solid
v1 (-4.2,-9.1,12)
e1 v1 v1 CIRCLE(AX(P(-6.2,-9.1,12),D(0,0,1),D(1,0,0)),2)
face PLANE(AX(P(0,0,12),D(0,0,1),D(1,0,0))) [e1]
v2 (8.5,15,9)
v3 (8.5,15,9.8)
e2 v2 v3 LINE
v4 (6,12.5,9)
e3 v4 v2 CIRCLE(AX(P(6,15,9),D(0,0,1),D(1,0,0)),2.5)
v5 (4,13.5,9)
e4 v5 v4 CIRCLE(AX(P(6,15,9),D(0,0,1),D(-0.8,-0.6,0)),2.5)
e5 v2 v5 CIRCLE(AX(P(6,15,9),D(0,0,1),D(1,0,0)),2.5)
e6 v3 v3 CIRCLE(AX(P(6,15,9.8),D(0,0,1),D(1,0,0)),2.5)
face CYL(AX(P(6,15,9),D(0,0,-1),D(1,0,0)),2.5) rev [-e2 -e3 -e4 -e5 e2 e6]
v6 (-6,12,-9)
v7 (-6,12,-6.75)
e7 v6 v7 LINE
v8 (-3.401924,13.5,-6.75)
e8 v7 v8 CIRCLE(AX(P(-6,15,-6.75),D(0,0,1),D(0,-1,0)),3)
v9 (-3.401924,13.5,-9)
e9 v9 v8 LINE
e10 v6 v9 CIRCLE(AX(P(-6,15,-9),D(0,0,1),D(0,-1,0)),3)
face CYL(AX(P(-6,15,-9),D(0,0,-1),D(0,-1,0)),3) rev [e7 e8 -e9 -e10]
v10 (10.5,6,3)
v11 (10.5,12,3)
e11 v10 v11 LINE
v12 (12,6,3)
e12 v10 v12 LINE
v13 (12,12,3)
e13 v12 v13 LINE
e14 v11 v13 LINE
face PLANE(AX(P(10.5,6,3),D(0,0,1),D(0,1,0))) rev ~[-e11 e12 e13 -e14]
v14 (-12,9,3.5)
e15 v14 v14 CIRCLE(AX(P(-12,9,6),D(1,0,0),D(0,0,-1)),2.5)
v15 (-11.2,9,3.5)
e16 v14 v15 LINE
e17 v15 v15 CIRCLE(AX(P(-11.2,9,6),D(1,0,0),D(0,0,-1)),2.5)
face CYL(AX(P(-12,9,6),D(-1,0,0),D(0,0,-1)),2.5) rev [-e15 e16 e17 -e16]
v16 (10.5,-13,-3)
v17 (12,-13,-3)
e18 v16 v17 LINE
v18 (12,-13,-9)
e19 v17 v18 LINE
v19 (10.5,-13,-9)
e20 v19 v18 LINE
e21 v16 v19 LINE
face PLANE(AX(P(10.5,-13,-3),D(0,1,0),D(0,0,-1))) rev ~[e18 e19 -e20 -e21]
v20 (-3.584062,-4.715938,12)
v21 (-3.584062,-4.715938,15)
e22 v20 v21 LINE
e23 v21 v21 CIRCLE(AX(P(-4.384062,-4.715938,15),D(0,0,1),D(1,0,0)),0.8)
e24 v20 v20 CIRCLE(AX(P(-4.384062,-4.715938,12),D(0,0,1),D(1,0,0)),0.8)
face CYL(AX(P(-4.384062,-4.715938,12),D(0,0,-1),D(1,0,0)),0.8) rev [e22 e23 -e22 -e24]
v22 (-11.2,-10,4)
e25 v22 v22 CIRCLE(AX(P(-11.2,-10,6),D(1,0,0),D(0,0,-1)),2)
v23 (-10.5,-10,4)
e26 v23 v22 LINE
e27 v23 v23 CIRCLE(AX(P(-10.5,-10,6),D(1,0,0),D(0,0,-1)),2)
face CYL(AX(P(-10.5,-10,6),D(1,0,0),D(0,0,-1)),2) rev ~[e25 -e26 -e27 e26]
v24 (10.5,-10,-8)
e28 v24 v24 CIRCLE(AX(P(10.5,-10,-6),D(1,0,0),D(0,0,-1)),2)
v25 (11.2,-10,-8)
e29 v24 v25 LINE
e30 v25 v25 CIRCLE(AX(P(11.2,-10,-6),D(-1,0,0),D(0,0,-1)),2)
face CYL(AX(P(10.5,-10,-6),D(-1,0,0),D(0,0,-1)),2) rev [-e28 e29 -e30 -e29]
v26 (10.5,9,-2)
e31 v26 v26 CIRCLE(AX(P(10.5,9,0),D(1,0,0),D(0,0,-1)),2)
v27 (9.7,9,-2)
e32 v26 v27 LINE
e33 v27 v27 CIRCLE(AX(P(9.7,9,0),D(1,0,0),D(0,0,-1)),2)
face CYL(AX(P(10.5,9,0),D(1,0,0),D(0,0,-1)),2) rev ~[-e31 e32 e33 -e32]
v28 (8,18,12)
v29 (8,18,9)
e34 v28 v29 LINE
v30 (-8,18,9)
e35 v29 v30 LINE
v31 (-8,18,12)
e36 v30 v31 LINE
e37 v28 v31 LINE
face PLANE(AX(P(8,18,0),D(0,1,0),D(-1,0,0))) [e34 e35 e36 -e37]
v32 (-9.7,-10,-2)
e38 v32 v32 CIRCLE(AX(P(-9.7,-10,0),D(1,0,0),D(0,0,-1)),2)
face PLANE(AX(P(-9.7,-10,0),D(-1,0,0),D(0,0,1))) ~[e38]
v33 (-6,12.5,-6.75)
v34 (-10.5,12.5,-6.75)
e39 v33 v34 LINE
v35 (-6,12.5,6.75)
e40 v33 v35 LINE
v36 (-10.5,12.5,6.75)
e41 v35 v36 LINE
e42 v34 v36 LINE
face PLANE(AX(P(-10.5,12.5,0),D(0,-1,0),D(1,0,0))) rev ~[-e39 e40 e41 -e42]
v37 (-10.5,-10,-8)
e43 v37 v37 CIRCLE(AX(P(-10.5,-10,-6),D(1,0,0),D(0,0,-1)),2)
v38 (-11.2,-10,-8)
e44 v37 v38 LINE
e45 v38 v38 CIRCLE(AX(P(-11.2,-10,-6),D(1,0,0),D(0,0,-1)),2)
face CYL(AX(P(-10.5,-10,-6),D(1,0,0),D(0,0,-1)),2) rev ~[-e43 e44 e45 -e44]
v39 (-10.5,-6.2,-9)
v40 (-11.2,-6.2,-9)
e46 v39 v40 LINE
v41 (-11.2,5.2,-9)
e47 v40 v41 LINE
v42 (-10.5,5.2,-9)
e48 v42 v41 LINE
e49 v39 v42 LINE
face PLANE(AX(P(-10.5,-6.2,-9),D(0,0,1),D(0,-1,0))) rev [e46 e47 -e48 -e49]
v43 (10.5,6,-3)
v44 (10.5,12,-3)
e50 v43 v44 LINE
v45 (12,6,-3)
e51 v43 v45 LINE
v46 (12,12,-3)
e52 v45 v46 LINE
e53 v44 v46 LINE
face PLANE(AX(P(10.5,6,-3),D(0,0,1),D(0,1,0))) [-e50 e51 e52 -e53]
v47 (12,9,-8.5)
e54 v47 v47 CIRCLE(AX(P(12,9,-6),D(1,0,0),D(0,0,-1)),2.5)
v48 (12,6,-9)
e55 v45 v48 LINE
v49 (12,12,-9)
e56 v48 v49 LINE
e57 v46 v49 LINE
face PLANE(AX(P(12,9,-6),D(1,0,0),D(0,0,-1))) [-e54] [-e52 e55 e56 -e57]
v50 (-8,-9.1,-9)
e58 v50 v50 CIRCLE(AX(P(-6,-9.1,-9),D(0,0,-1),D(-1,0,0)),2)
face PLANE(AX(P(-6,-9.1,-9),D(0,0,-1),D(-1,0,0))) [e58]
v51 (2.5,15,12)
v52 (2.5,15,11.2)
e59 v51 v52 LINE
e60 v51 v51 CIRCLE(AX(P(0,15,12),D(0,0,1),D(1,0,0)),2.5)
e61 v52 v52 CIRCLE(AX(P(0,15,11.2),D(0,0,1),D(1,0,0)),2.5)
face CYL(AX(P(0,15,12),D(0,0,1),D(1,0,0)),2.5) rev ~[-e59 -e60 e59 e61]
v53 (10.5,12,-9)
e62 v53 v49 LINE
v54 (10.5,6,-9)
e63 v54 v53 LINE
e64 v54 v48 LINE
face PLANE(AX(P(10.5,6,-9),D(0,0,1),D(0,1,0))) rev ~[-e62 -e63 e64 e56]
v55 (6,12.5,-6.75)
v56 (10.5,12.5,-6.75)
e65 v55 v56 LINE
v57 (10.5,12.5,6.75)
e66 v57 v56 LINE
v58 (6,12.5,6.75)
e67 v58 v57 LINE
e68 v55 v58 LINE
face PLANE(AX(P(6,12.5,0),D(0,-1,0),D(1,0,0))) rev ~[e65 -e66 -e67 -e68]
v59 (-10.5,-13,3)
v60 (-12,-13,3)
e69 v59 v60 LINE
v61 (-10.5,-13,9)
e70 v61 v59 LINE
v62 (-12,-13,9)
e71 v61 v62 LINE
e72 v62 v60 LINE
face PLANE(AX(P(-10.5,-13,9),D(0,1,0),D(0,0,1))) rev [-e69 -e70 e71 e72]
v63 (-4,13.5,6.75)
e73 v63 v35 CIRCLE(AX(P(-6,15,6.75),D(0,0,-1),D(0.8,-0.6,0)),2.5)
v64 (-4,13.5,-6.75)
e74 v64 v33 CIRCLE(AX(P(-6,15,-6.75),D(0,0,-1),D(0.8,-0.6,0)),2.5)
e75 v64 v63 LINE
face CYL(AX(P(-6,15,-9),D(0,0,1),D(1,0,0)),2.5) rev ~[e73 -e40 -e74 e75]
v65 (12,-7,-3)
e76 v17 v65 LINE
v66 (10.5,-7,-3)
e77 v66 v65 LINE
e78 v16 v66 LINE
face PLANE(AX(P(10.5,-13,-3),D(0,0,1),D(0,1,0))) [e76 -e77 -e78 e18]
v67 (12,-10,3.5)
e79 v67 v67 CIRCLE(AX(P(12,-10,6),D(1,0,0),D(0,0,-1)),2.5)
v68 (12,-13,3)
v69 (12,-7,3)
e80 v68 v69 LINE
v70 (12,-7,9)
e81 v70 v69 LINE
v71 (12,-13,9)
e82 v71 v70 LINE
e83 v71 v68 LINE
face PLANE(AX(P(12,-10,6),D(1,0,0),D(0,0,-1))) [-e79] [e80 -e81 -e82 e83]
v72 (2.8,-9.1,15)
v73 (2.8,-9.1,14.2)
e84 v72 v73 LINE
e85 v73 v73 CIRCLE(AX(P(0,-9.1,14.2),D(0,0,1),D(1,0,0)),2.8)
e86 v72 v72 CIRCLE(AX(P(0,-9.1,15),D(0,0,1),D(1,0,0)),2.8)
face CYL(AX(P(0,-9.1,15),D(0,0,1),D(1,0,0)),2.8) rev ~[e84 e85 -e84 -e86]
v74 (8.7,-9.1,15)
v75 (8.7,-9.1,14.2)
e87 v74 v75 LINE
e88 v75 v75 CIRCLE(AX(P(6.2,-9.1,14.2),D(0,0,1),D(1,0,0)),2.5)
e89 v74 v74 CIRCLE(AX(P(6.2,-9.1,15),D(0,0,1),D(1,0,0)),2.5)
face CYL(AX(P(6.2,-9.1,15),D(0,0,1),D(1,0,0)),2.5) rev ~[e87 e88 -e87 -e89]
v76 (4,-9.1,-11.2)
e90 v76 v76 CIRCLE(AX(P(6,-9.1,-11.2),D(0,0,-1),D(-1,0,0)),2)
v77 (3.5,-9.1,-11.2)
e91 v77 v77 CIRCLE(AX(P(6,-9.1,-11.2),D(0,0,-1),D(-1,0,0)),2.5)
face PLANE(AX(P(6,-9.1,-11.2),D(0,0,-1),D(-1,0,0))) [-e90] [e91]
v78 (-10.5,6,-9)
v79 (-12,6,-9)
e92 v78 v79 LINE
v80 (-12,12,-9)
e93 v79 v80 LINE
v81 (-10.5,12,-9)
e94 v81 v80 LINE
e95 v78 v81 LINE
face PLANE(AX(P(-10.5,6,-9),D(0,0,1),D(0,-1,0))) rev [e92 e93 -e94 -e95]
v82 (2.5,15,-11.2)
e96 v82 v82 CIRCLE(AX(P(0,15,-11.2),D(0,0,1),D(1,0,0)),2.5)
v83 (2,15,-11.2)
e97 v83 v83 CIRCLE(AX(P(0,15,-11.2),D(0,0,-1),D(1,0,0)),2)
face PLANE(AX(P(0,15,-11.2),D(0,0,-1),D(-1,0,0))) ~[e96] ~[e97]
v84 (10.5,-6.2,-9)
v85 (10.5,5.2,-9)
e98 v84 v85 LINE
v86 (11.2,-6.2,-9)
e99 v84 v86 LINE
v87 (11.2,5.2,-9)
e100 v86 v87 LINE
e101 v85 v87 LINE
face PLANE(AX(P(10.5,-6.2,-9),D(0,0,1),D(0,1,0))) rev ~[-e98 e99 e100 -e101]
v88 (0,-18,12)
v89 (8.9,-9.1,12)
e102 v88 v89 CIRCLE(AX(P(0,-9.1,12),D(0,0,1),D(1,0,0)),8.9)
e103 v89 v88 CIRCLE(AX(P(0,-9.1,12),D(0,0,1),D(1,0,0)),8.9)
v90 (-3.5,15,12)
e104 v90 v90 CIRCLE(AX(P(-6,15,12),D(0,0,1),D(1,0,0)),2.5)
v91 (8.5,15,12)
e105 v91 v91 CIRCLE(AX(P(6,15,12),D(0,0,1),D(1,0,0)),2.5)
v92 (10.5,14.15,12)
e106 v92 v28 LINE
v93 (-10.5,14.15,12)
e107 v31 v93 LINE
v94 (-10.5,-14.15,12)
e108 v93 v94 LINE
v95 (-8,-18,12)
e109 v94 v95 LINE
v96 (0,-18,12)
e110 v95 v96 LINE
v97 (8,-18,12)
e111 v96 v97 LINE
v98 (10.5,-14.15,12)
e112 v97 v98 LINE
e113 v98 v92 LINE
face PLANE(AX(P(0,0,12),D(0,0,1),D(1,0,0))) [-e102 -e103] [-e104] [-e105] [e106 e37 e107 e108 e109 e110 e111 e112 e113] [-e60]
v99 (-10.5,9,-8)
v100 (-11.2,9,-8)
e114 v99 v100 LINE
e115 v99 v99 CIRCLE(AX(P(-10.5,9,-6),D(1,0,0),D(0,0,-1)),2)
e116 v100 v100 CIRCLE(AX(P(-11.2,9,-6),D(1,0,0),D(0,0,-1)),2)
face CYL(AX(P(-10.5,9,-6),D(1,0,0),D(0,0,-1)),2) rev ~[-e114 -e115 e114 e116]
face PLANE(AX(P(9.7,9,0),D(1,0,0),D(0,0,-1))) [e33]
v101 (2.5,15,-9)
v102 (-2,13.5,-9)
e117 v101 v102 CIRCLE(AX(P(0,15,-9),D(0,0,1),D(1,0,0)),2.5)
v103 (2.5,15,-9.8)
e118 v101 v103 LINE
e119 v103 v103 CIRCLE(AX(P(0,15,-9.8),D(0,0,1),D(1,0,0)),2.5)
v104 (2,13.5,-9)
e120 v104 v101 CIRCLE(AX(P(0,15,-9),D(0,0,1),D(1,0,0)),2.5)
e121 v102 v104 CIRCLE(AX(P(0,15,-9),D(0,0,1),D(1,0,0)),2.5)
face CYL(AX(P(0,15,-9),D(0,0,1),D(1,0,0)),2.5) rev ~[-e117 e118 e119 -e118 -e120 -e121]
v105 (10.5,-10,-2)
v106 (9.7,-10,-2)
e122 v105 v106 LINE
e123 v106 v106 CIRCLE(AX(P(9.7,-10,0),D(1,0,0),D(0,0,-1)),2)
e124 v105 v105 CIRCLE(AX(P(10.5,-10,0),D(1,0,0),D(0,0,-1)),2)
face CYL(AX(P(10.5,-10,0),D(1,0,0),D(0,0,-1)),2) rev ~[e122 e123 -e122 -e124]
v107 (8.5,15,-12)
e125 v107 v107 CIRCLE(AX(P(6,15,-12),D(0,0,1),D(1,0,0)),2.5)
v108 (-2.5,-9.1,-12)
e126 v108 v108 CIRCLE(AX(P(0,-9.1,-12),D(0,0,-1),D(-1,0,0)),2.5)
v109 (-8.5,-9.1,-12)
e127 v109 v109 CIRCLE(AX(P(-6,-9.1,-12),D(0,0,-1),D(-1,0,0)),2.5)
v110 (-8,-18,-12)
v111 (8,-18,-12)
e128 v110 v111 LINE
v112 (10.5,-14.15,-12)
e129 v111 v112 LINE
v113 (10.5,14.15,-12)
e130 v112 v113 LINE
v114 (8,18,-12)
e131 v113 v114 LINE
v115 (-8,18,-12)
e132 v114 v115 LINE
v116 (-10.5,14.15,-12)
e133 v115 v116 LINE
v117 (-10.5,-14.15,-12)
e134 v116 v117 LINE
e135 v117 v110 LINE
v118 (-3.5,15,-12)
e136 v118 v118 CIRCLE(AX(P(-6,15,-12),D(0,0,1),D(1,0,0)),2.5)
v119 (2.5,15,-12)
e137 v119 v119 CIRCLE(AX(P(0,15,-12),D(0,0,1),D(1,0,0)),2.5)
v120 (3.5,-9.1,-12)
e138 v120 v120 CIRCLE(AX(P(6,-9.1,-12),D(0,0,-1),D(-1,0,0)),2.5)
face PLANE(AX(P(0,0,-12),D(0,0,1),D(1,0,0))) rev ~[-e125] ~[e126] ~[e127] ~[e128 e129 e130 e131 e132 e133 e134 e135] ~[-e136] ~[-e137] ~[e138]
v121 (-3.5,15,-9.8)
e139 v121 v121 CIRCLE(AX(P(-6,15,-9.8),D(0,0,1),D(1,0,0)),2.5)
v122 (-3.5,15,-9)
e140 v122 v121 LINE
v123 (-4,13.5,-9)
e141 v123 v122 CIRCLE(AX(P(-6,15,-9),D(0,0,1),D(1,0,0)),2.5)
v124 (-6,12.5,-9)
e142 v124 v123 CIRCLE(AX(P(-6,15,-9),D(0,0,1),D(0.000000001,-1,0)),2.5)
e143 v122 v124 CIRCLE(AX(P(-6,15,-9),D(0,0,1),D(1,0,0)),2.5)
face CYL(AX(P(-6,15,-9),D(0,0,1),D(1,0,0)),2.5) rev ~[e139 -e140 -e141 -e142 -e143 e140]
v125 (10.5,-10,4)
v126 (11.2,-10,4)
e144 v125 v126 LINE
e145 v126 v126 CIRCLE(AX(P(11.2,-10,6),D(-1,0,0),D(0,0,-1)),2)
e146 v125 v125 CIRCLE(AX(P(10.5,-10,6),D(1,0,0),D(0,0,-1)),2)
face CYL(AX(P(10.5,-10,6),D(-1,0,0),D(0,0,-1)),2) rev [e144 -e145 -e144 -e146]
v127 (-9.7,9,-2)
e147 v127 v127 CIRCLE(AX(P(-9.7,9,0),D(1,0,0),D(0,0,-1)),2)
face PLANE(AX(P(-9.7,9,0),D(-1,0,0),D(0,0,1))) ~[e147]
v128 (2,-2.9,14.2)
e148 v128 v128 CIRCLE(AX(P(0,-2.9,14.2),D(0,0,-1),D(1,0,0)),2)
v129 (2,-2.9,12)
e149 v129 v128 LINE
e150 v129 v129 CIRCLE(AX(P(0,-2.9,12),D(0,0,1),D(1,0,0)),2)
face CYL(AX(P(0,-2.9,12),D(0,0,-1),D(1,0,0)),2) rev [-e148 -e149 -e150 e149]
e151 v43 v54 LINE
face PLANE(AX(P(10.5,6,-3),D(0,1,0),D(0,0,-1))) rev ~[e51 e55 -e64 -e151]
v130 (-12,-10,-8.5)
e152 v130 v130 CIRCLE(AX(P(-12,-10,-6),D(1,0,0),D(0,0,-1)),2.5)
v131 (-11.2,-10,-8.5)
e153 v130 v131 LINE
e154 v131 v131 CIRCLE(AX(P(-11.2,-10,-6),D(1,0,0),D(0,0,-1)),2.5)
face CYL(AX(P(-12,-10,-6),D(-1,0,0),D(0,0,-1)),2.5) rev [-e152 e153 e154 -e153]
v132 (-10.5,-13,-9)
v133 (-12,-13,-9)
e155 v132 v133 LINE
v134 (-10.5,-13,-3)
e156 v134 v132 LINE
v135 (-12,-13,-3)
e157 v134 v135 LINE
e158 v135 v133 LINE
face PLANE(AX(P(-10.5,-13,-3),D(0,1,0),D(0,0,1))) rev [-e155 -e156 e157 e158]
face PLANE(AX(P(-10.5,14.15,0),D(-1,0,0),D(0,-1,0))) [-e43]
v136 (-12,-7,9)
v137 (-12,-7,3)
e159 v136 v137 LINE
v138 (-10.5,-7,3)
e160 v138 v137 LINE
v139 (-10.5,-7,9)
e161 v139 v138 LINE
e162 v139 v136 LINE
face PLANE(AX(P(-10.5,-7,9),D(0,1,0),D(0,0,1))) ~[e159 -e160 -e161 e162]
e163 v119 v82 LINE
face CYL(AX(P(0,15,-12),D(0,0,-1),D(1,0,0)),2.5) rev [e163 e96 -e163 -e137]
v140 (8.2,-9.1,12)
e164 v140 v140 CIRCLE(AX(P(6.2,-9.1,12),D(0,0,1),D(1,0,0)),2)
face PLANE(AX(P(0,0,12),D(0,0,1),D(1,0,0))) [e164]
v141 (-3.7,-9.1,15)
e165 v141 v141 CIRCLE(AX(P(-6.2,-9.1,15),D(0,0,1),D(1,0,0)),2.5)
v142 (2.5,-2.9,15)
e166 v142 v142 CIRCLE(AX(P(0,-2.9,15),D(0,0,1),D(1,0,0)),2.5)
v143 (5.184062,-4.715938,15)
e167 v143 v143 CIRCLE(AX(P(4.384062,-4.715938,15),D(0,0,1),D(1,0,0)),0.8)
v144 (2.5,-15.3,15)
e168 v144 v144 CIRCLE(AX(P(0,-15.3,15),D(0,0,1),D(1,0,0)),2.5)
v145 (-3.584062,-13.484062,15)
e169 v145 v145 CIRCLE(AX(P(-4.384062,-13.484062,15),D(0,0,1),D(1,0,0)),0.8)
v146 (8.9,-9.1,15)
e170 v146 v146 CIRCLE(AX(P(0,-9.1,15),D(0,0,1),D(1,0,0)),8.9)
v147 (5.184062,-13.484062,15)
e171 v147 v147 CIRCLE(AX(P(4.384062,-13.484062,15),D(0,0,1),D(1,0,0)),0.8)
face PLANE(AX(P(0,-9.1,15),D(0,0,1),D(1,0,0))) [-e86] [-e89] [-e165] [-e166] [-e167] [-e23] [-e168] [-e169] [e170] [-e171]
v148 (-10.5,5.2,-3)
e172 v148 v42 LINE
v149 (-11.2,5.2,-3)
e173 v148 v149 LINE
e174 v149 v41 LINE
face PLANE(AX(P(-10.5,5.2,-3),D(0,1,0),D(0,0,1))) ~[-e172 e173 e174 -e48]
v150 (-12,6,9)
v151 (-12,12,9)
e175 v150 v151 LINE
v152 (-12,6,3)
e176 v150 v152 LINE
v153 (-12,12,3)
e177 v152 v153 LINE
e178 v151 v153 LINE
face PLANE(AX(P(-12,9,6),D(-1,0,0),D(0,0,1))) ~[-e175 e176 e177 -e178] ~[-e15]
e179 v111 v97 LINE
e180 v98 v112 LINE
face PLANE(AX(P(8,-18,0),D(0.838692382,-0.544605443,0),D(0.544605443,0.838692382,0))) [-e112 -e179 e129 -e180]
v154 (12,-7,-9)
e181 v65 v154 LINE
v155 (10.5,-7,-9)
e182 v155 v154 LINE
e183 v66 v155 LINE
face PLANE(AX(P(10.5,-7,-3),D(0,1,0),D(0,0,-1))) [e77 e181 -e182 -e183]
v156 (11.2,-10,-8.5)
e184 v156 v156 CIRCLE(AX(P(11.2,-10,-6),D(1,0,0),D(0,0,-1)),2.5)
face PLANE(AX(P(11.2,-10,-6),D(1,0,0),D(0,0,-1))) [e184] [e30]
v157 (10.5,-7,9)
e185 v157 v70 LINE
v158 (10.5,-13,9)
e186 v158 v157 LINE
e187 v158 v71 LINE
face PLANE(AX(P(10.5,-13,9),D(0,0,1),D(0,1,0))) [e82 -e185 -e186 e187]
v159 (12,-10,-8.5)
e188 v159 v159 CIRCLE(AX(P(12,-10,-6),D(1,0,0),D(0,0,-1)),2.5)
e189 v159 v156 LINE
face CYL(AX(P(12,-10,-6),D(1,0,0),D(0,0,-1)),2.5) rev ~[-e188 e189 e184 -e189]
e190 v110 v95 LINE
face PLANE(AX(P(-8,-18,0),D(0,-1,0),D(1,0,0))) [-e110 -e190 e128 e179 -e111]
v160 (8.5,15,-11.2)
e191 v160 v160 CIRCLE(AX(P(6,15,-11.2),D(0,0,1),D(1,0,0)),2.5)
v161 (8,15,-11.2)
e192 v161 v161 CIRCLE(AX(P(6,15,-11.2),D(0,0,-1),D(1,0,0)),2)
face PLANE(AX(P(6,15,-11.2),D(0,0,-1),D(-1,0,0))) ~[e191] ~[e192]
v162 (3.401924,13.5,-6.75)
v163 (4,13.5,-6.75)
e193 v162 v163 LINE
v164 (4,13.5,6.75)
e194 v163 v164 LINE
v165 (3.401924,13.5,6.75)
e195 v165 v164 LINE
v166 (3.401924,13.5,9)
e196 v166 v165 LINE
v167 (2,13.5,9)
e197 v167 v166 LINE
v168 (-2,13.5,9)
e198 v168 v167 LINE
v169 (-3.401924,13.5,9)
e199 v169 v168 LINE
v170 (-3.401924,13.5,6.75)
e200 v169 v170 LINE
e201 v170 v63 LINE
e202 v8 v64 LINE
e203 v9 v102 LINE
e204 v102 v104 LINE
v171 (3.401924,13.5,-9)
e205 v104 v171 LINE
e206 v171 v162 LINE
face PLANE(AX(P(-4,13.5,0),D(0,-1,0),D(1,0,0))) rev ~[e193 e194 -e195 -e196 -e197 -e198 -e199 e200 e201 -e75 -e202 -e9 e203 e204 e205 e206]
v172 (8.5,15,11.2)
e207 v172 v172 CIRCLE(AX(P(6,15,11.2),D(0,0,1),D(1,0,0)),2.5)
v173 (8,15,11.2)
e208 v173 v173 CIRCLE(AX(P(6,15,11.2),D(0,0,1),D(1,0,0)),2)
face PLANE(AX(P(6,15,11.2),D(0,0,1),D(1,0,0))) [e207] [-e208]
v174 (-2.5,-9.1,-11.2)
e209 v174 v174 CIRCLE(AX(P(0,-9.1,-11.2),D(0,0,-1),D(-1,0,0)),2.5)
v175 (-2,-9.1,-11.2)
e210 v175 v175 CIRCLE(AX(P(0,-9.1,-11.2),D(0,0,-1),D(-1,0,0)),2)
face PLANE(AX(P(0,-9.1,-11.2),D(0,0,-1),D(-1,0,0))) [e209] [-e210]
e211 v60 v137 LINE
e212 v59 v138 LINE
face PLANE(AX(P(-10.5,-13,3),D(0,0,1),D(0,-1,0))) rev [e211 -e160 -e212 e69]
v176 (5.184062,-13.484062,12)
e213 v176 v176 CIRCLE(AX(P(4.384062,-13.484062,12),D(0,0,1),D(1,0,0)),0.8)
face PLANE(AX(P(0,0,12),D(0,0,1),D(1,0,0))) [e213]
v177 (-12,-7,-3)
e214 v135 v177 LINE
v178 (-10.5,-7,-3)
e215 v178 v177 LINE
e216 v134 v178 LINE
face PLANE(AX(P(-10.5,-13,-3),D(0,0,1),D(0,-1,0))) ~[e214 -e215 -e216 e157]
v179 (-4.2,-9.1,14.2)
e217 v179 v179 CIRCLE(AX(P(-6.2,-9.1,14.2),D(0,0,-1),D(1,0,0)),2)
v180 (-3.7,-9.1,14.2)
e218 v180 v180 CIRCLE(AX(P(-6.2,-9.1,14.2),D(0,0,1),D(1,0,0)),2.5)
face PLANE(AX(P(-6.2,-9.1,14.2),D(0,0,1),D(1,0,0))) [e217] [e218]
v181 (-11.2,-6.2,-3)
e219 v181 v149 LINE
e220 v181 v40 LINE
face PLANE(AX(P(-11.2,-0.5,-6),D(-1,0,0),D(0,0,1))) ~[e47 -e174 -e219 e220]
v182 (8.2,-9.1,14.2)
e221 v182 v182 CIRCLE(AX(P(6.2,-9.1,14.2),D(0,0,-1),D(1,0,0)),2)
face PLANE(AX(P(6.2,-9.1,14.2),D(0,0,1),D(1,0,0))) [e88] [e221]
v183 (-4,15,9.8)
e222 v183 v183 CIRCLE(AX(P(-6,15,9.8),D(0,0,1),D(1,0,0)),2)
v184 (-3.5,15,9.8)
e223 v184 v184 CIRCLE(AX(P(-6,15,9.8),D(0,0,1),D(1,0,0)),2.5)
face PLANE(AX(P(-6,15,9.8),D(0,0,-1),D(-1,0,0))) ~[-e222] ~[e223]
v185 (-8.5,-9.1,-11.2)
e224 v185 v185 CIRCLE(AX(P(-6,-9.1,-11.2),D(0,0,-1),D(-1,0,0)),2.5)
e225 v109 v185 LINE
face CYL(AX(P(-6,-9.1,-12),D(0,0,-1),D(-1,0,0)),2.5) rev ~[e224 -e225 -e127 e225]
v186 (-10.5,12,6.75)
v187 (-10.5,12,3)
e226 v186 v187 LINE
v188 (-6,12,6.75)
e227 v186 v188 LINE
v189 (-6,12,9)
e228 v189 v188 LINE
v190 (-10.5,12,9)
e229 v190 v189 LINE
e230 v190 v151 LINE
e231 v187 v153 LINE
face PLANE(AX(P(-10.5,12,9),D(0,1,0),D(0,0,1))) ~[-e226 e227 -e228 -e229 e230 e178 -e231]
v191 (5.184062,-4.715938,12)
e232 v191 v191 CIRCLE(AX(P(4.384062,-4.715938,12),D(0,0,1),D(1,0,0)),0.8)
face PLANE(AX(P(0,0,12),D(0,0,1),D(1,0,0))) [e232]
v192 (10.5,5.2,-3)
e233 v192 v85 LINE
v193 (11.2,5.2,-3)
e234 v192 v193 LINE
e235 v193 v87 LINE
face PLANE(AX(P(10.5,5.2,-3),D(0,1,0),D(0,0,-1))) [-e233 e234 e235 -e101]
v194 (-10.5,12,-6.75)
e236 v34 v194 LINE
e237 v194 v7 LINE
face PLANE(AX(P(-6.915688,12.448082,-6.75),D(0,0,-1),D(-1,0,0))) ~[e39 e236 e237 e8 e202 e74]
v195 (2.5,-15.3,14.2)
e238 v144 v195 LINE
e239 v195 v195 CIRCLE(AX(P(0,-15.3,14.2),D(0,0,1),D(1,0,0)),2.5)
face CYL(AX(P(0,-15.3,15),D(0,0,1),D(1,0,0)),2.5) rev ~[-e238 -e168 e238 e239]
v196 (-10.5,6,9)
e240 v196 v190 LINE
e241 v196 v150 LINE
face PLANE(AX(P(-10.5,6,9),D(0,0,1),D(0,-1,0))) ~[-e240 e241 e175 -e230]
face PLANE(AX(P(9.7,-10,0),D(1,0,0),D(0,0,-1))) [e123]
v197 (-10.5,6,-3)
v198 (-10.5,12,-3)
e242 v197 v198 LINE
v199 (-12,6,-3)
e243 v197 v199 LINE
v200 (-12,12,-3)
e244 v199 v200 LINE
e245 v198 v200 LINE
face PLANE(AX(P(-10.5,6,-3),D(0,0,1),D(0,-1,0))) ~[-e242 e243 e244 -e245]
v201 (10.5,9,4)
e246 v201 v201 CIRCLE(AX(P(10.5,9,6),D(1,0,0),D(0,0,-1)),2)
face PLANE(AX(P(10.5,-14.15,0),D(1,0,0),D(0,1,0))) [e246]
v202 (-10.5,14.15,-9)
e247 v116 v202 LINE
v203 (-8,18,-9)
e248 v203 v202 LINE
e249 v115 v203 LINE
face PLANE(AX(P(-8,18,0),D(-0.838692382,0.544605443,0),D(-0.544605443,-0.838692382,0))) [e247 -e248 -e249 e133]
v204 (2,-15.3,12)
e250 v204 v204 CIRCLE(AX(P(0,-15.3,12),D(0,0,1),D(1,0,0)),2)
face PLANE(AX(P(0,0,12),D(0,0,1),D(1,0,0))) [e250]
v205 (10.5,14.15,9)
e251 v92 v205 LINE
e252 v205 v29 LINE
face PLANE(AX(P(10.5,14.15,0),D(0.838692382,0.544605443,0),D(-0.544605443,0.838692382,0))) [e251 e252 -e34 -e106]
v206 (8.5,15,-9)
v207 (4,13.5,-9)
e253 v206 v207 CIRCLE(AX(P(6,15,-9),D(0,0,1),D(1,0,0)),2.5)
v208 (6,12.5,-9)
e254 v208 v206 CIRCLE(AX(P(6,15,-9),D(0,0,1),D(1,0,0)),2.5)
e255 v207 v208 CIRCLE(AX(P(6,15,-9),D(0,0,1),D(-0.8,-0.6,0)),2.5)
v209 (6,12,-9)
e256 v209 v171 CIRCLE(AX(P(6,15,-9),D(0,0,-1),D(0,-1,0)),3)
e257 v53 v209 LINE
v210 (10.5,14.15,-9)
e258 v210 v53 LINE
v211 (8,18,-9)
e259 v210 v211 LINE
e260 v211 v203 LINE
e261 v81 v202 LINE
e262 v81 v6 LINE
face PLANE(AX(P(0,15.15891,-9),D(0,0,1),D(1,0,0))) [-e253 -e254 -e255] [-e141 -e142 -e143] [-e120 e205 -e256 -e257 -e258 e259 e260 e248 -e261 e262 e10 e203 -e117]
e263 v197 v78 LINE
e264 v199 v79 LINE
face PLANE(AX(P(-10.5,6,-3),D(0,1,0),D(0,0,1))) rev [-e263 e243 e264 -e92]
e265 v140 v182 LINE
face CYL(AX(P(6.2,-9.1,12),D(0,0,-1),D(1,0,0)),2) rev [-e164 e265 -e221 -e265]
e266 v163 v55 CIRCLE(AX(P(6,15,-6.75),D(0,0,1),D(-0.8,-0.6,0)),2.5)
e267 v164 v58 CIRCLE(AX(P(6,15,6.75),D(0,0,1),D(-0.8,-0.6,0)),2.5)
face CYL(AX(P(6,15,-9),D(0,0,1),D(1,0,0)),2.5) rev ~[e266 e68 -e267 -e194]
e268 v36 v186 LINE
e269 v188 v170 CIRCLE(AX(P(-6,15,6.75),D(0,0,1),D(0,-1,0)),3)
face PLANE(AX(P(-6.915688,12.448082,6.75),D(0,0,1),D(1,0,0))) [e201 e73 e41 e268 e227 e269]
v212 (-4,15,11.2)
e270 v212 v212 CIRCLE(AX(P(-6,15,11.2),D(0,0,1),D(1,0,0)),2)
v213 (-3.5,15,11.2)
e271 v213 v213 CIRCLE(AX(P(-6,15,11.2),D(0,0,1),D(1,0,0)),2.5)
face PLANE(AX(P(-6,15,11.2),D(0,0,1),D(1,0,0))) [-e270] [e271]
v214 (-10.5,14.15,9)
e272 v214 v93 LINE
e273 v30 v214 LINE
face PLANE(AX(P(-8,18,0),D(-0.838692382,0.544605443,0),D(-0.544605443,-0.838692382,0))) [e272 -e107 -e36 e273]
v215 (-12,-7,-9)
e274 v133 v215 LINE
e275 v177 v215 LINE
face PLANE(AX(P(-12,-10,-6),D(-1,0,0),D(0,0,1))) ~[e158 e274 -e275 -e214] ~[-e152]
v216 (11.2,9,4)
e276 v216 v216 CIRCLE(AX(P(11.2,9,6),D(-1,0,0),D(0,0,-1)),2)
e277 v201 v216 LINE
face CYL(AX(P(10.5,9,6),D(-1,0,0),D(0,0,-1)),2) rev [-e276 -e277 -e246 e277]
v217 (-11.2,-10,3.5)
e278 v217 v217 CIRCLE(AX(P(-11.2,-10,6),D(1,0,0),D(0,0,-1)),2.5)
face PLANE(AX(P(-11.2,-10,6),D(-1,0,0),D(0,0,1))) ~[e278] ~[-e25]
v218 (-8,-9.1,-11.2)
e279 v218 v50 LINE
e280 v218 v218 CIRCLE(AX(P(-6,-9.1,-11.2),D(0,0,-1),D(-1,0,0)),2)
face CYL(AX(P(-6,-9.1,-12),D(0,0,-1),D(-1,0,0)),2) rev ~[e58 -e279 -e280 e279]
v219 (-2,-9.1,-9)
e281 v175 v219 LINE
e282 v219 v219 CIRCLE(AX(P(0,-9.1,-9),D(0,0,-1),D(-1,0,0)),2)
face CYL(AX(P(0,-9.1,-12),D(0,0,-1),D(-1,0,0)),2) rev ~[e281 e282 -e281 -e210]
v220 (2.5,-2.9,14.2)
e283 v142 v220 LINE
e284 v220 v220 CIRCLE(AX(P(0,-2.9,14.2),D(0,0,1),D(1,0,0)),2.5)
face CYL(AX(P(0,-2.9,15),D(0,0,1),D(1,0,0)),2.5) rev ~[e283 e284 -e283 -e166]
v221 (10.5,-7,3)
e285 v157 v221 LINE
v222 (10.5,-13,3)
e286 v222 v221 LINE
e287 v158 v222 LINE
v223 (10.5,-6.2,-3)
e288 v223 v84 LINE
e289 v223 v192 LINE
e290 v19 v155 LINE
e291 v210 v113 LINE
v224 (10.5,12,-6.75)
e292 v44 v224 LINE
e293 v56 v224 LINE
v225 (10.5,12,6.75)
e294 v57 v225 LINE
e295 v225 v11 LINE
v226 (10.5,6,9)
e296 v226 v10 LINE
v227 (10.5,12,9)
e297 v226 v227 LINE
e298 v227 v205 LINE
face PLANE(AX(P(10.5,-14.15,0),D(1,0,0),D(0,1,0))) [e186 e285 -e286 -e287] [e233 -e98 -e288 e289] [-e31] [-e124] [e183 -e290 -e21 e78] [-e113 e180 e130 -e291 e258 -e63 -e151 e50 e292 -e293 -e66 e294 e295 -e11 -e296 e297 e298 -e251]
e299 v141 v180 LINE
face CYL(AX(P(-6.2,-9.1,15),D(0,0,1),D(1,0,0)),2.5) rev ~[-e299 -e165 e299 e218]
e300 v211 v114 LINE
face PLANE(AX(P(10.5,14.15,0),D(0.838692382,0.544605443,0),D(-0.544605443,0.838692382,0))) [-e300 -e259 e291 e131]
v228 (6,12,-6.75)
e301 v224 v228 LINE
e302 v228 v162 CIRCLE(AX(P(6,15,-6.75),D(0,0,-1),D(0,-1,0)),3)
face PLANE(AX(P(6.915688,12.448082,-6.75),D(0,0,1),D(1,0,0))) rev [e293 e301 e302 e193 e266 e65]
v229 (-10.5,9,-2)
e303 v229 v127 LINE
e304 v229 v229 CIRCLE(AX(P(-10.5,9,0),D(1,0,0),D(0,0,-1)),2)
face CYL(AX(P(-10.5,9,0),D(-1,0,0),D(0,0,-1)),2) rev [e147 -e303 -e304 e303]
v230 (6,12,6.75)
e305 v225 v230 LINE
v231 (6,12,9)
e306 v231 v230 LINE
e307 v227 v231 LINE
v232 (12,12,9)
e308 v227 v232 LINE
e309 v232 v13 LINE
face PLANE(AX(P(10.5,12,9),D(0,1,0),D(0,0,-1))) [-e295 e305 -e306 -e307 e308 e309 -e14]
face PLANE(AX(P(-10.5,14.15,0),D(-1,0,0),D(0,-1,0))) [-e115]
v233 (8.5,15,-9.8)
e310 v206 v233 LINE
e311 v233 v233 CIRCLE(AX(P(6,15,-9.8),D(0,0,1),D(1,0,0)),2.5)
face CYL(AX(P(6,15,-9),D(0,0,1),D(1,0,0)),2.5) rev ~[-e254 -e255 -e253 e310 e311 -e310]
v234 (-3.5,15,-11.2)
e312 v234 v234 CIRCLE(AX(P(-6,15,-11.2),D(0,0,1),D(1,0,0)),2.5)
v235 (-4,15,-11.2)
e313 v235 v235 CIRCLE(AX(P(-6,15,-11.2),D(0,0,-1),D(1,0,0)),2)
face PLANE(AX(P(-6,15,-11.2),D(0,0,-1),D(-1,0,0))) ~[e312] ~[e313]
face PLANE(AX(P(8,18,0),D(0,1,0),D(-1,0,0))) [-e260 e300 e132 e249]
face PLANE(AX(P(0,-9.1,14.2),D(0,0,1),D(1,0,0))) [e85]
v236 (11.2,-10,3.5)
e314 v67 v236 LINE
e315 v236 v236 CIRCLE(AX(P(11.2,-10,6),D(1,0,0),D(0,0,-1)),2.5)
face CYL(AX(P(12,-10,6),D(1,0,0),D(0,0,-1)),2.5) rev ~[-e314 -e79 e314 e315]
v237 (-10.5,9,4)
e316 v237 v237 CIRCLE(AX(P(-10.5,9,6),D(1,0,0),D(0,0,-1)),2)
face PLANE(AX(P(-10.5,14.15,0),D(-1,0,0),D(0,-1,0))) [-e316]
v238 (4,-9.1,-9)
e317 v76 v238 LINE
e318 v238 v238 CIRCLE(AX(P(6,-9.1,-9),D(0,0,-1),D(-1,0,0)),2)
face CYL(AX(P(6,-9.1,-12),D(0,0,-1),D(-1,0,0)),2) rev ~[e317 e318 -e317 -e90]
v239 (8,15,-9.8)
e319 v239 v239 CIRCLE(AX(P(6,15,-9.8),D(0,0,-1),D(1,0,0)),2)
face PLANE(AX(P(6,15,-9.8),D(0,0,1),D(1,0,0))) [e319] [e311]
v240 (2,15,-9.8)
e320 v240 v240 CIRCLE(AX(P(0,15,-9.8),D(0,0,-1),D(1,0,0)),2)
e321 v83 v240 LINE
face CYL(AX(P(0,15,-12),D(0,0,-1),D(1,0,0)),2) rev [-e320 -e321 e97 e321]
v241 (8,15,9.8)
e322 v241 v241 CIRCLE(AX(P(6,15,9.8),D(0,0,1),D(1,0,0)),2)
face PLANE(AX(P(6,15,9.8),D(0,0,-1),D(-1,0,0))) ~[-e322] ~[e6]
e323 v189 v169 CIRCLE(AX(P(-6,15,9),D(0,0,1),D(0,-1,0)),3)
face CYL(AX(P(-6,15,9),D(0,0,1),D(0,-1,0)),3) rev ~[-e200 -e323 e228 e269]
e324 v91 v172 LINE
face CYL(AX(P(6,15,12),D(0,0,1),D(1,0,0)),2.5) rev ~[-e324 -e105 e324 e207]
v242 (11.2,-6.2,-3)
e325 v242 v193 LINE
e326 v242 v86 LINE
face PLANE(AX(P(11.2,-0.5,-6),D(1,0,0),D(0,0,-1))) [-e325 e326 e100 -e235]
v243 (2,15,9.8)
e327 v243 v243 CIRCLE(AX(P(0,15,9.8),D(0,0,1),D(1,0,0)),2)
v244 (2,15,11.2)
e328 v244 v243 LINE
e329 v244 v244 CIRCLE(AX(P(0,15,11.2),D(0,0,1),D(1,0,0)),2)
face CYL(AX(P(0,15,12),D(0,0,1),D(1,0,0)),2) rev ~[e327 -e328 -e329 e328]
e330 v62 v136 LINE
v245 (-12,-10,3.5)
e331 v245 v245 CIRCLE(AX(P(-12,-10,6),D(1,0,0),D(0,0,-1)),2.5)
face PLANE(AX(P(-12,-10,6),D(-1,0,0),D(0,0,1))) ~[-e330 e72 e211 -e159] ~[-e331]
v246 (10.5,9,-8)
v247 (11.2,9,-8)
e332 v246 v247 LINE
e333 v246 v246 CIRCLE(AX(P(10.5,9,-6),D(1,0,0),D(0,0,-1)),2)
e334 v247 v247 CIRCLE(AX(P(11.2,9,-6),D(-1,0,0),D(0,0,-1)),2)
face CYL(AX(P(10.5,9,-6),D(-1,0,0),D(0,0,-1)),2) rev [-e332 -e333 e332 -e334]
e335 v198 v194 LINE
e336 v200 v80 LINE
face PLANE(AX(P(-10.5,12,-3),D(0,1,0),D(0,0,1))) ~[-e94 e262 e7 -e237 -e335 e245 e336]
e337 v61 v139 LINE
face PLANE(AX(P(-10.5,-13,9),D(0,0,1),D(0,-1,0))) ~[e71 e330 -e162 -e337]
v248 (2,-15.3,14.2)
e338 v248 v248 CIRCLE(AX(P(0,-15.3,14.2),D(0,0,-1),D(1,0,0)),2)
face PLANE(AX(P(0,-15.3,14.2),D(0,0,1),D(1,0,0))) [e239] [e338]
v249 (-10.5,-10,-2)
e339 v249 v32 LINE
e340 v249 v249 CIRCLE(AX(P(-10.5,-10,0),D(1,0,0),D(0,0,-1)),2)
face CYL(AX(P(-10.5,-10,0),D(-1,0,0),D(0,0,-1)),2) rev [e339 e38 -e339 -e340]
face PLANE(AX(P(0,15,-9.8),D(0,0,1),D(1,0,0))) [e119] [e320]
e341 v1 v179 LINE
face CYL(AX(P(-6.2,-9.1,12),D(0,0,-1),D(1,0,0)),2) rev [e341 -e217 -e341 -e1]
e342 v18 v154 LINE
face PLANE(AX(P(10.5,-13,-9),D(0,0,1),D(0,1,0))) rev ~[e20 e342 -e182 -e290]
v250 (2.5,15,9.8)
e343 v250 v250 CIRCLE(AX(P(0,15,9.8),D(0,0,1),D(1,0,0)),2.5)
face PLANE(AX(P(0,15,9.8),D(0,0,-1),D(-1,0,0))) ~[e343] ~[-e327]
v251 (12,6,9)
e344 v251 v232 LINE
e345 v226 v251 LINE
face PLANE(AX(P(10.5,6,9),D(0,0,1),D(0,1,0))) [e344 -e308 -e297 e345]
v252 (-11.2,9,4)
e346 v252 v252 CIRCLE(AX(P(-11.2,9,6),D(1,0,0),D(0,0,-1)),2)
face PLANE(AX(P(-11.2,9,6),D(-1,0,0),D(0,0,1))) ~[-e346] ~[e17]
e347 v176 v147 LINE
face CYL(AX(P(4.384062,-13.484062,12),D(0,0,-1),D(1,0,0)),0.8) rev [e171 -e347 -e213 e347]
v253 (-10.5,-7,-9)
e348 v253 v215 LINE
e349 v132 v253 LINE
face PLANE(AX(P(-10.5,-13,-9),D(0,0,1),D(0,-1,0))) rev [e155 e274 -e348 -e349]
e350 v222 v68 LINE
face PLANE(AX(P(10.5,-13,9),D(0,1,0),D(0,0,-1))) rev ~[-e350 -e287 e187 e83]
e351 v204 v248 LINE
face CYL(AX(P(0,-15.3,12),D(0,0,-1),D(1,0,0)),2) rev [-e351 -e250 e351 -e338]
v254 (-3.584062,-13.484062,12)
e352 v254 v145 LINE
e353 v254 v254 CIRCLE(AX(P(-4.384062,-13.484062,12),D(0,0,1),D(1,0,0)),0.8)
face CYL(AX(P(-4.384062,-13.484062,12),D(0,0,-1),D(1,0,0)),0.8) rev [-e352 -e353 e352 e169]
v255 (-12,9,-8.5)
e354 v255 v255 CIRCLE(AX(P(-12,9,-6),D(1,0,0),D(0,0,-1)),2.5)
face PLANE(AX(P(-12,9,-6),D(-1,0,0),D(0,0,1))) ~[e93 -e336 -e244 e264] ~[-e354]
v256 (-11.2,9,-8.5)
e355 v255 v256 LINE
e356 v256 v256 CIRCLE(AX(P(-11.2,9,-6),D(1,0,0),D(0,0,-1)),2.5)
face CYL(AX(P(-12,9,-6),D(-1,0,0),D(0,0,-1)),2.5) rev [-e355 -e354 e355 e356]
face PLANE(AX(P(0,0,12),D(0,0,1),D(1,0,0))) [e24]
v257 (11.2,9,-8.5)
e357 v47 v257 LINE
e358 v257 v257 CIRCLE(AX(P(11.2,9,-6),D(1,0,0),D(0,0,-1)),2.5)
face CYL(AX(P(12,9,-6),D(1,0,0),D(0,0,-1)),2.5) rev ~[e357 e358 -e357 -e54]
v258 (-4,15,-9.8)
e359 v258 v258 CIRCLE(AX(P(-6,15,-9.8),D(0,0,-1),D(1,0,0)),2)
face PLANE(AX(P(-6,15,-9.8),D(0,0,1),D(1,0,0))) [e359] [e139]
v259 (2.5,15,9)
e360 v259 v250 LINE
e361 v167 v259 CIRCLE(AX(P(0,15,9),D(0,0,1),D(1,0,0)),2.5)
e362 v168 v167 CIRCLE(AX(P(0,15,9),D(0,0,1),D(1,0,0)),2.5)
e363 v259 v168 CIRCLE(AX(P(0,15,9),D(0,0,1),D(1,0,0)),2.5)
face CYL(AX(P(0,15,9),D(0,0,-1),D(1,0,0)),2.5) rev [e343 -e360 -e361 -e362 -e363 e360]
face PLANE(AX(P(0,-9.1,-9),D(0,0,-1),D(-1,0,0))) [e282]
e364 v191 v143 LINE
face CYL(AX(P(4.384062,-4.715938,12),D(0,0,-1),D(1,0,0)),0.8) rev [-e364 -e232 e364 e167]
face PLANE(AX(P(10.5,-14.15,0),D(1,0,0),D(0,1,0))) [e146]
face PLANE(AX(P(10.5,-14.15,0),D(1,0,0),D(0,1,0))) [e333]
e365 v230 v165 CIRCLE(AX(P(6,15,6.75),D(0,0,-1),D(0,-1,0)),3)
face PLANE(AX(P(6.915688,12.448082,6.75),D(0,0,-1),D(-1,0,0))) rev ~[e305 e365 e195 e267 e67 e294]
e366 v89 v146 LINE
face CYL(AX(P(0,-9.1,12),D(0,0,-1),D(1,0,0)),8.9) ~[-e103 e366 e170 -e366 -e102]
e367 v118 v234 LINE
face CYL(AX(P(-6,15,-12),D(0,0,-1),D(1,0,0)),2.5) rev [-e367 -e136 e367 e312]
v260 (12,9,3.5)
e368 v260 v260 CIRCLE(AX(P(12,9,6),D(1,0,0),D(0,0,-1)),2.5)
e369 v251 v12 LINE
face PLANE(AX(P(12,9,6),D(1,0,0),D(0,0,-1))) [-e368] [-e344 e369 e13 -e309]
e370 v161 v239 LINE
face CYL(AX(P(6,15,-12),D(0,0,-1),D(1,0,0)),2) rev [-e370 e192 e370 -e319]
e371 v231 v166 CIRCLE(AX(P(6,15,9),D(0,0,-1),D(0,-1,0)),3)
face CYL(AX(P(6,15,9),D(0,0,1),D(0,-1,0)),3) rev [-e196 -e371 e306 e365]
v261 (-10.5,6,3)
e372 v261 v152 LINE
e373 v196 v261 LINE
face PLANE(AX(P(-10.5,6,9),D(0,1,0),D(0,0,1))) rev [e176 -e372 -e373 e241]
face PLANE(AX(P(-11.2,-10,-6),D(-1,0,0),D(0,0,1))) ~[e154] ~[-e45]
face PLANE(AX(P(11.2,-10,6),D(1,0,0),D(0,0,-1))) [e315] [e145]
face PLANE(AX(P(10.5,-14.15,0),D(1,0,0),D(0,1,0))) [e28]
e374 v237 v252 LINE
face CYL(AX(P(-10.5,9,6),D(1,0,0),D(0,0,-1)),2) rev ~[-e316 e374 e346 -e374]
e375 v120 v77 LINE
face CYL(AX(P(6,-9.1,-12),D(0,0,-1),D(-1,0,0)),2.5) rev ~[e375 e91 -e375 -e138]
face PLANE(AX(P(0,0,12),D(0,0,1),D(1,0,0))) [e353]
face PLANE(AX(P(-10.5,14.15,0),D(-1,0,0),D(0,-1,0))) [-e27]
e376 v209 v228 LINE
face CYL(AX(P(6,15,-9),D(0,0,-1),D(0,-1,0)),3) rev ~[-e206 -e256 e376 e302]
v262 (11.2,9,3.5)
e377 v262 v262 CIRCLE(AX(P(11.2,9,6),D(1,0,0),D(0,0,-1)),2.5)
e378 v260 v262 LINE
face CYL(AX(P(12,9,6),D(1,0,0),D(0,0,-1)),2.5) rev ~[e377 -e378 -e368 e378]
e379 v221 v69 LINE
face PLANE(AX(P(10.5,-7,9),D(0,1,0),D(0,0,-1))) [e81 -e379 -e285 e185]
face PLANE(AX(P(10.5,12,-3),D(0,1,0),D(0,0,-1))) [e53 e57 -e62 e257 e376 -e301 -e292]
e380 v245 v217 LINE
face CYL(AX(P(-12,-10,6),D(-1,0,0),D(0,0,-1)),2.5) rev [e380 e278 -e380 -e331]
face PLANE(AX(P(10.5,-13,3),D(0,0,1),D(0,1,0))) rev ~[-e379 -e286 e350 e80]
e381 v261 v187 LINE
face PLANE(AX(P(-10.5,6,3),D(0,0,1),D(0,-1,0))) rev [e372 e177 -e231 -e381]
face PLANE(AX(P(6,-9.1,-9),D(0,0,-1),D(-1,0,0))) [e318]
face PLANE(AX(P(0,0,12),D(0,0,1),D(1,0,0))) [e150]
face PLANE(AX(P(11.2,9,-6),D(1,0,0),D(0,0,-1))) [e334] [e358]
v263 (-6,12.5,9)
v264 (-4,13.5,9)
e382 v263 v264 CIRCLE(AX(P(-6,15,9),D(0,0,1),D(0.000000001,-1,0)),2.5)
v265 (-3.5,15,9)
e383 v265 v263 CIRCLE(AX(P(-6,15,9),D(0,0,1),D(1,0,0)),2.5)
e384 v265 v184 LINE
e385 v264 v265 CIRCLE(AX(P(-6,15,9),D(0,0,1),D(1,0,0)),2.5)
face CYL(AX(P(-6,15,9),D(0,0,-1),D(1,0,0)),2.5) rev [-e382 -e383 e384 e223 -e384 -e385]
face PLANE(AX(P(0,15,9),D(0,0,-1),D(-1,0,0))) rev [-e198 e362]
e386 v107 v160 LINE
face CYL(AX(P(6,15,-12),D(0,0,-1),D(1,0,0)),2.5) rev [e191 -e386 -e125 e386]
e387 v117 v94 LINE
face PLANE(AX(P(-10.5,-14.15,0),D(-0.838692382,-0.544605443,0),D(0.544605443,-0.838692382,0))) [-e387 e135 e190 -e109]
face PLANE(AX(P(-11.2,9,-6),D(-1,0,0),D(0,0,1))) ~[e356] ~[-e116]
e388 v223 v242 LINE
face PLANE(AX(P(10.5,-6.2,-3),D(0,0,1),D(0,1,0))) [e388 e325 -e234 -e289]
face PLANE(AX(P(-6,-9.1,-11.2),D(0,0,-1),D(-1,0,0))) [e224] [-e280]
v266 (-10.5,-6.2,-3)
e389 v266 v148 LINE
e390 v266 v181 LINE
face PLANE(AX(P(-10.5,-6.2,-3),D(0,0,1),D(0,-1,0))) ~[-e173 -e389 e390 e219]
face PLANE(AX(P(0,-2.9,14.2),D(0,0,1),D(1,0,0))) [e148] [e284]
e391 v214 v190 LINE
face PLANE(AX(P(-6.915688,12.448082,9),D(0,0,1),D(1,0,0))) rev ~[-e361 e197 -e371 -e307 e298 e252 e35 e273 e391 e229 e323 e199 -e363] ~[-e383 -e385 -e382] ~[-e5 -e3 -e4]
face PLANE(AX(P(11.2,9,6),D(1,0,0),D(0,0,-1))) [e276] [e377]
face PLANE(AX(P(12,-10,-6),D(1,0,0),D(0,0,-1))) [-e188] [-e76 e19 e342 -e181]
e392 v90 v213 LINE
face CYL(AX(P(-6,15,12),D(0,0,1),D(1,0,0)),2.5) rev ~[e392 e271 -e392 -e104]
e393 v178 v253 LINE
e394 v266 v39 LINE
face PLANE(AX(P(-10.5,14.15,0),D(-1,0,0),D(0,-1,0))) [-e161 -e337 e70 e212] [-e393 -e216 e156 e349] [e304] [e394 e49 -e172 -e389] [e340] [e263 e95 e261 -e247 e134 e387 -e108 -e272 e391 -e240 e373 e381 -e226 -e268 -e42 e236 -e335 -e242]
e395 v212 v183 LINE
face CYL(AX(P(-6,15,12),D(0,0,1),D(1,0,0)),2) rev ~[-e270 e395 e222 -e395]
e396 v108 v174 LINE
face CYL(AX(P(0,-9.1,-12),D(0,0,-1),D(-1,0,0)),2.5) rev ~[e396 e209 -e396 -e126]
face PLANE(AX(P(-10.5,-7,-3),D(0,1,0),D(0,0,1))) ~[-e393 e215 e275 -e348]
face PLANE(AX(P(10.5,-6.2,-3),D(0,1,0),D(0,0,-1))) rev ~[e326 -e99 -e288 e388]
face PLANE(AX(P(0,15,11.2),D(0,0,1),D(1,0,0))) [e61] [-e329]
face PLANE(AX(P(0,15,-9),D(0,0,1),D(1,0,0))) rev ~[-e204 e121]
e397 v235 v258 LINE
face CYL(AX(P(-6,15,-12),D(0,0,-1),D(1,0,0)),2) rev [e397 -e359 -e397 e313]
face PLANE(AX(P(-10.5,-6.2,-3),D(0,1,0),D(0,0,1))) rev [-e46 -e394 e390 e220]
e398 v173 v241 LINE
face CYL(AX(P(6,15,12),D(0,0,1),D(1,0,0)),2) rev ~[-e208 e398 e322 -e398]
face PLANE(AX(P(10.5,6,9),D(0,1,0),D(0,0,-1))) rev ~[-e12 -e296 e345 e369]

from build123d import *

# Parameters (mm, degrees)
BOSS_EXTRUDE1_DEPTH     = 12
SKETCH2_R               = 8.9
SKETCH2_R_2             = 2
SKETCH2_R_3             = 0.8
BOSS_EXTRUDE2_DEPTH     = 3
SKETCH4_R               = 2.5
SKETCH4_R_2             = 2.8
CUT_EXTRUDE1_DEPTH      = 0.8
SKETCH9_R               = 2
CUT_EXTRUDE4_DEPTH      = 3
SKETCH10_R              = 2.5
CUT_EXTRUDE5_DEPTH      = 0.8
MIRROR3_COPY_1_SKETCH_R = 2.5
MIRROR3_COPY_1_DEPTH    = 0.8
CUT_EXTRUDE3_DEPTH      = 9
SKETCH5_W               = 6
SKETCH5_H               = 6
SKETCH5_R               = 2
SKETCH5_H_2             = 11.4
BOSS_EXTRUDE3_DEPTH     = 1.5
SKETCH6_R               = 2.5
SKETCH6_W               = 6
SKETCH6_H               = 11.4
CUT_EXTRUDE2_DEPTH      = 0.8
SKETCH11_R              = 2
CUT_EXTRUDE6_DEPTH      = 0.8
CUT_EXTRUDE7_DEPTH      = 2.25
SKETCH13_R              = 2
CUT_EXTRUDE8_DEPTH      = 3
SKETCH14_R              = 2.5
CUT_EXTRUDE9_DEPTH      = 0.8


with BuildPart() as part:
    # Sketch1 → Boss-Extrude1 (new body, symmetric)
    with BuildSketch(Plane.XY):
        Polygon((8, 18), (-8, 18), (-10.5, 14.15), (-10.5, -14.15), (-8, -18), (8, -18), (10.5, -14.15), (10.5, 14.15), align=None)
    extrude(amount=BOSS_EXTRUDE1_DEPTH, both=True)

    # Sketch2 → Boss-Extrude2 (add)
    with BuildSketch(Plane.XY.offset(12)):
        with Locations((0, -9.1)):
            Circle(SKETCH2_R)
        with Locations((0, -15.3)):
            Circle(SKETCH2_R_2, mode=Mode.SUBTRACT)
        with Locations((-4.384062043, -13.484062043)):
            Circle(SKETCH2_R_3, mode=Mode.SUBTRACT)
        with Locations((4.384062043, -13.484062043)):
            Circle(SKETCH2_R_3, mode=Mode.SUBTRACT)
        with Locations((6.2, -9.1)):
            Circle(SKETCH2_R_2, mode=Mode.SUBTRACT)
        with Locations((4.384062043, -4.715937957)):
            Circle(SKETCH2_R_3, mode=Mode.SUBTRACT)
        with Locations((0, -2.9)):
            Circle(SKETCH2_R_2, mode=Mode.SUBTRACT)
        with Locations((-4.384062043, -4.715937957)):
            Circle(SKETCH2_R_3, mode=Mode.SUBTRACT)
        with Locations((-6.2, -9.1)):
            Circle(SKETCH2_R_2, mode=Mode.SUBTRACT)
    extrude(amount=BOSS_EXTRUDE2_DEPTH)

    # Sketch4 → Cut-Extrude1 (cut)
    with BuildSketch(Plane.XY.offset(15)):
        with Locations((0, -15.3)):
            Circle(SKETCH4_R)
        with Locations((0, -2.9)):
            Circle(SKETCH4_R)
        with Locations((-6.2, -9.1)):
            Circle(SKETCH4_R)
        with Locations((6.2, -9.1)):
            Circle(SKETCH4_R)
        with Locations((0, -9.1)):
            Circle(SKETCH4_R_2)
    extrude(amount=-CUT_EXTRUDE1_DEPTH, mode=Mode.SUBTRACT)

    # Sketch9 → Cut-Extrude4 (cut)
    with BuildSketch(Plane.XY.offset(12)):
        with Locations((0, 15)):
            Circle(SKETCH9_R)
        with Locations((6, 15)):
            Circle(SKETCH9_R)
        with Locations((-6, 15)):
            Circle(SKETCH9_R)
    cut_extrude4 = extrude(amount=-CUT_EXTRUDE4_DEPTH, mode=Mode.SUBTRACT)

    # Sketch10 → Cut-Extrude5 (cut)
    with BuildSketch(Plane.XY.offset(12)):
        with Locations((0, 15)):
            Circle(SKETCH10_R)
        with Locations((6, 15)):
            Circle(SKETCH10_R)
        with Locations((-6, 15)):
            Circle(SKETCH10_R)
    cut_extrude5 = extrude(amount=-CUT_EXTRUDE5_DEPTH, mode=Mode.SUBTRACT)

    # Mirror2: Cut-Extrude5 across plane
    add(cut_extrude5.mirror(Plane.XY.offset(10.5)), mode=Mode.SUBTRACT)

    # Mirror3: Cut-Extrude4, Cut-Extrude5 across plane
    add(cut_extrude4.mirror(Plane.XY), mode=Mode.SUBTRACT)
    add(cut_extrude5.mirror(Plane.XY), mode=Mode.SUBTRACT)

    # Mirror3 copy 1 sketch → Mirror3 copy 1 (cut)
    with BuildSketch(Plane.XY.offset(-9)):
        with Locations((0, 15)):
            Circle(MIRROR3_COPY_1_SKETCH_R)
        with Locations((6, 15)):
            Circle(MIRROR3_COPY_1_SKETCH_R)
        with Locations((-6, 15)):
            Circle(MIRROR3_COPY_1_SKETCH_R)
    extrude(amount=-MIRROR3_COPY_1_DEPTH, mode=Mode.SUBTRACT)

    # Sketch8 → Cut-Extrude3 (cut, symmetric)
    with BuildSketch(Plane.XY):
        with BuildLine():
            Line((8, 18), (-8, 18))
            Line((-8, 18), (-10.5, 14.15))
            Line((-10.5, 14.15), (-10.5, 12.5))
            Line((-10.5, 12.5), (-6, 12.5))
            ThreePointArc((-6, 12.5), (-4.881966011, 12.763932023), (-4, 13.5))
            Line((-4, 13.5), (4, 13.5))
            ThreePointArc((4, 13.5), (4.881966011, 12.763932023), (6, 12.5))
            Line((6, 12.5), (10.5, 12.5))
            Line((10.5, 12.5), (10.5, 14.15))
            Line((10.5, 14.15), (8, 18))
        make_face()
    extrude(amount=CUT_EXTRUDE3_DEPTH, both=True, mode=Mode.SUBTRACT)

    # Sketch5 → Boss-Extrude3 (add)
    with BuildSketch(Plane(origin=(10.5, 0, 0), x_dir=(0, 0, -1), z_dir=(1, 0, 0))):
        with Locations((-6, -10)):
            Rectangle(SKETCH5_W, SKETCH5_H)
        with Locations((-6, -10)):
            Circle(SKETCH5_R, mode=Mode.SUBTRACT)
        with Locations((6, -0.5)):
            Rectangle(SKETCH5_W, SKETCH5_H_2)
        with Locations((-6, 9)):
            Rectangle(SKETCH5_W, SKETCH5_H)
        with Locations((-6, 9)):
            Circle(SKETCH5_R, mode=Mode.SUBTRACT)
        with Locations((6, 9)):
            Rectangle(SKETCH5_W, SKETCH5_H)
        with Locations((6, 9)):
            Circle(SKETCH5_R, mode=Mode.SUBTRACT)
        with Locations((6, -10)):
            Rectangle(SKETCH5_W, SKETCH5_H)
        with Locations((6, -10)):
            Circle(SKETCH5_R, mode=Mode.SUBTRACT)
    boss_extrude3 = extrude(amount=BOSS_EXTRUDE3_DEPTH)

    # Sketch6 → Cut-Extrude2 (cut)
    with BuildSketch(Plane(origin=(12, 0, 0), x_dir=(0, 0, -1), z_dir=(1, 0, 0))):
        with Locations((-6, -10)):
            Circle(SKETCH6_R)
        with Locations((-6, 9)):
            Circle(SKETCH6_R)
        with Locations((6, 9)):
            Circle(SKETCH6_R)
        with Locations((6, -10)):
            Circle(SKETCH6_R)
        with Locations((6, -0.5)):
            Rectangle(SKETCH6_W, SKETCH6_H)
    cut_extrude2 = extrude(amount=-CUT_EXTRUDE2_DEPTH, mode=Mode.SUBTRACT)

    # Sketch11 → Cut-Extrude6 (cut)
    with BuildSketch(Plane(origin=(10.5, 0, 0), x_dir=(0, 0, -1), z_dir=(1, 0, 0))):
        with Locations((0, 9)):
            Circle(SKETCH11_R)
        with Locations((0, -10)):
            Circle(SKETCH11_R)
    cut_extrude6 = extrude(amount=-CUT_EXTRUDE6_DEPTH, mode=Mode.SUBTRACT)

    # Mirror4: Boss-Extrude3, Cut-Extrude2, Cut-Extrude6 across plane
    add(boss_extrude3.mirror(Plane(origin=(0, 0, 0), x_dir=(0, 0, 1), z_dir=(1, 0, 0))))
    add(cut_extrude2.mirror(Plane(origin=(0, 0, 0), x_dir=(0, 0, 1), z_dir=(1, 0, 0))), mode=Mode.SUBTRACT)
    add(cut_extrude6.mirror(Plane(origin=(0, 0, 0), x_dir=(0, 0, 1), z_dir=(1, 0, 0))), mode=Mode.SUBTRACT)

    # Sketch12 → Cut-Extrude7 (cut)
    with BuildSketch(Plane(origin=(0, 0, 9), x_dir=(-1, 0, 0), z_dir=(0, 0, -1))):
        with BuildLine():
            Line((-6, 12.5), (-10.5, 12.5))
            Line((-10.5, 12.5), (-10.5, 12))
            Line((-10.5, 12), (-6, 12))
            ThreePointArc((-6, 12), (-4.5, 12.401923789), (-3.401923789, 13.5))
            Line((-3.401923789, 13.5), (-4, 13.5))
            ThreePointArc((-4, 13.5), (-4.881966011, 12.763932023), (-6, 12.5))
        make_face()
        with BuildLine():
            Line((3.401923789, 13.5), (4, 13.5))
            ThreePointArc((4, 13.5), (4.881966011, 12.763932023), (6, 12.5))
            Line((6, 12.5), (10.5, 12.5))
            Line((10.5, 12.5), (10.5, 12))
            Line((10.5, 12), (6, 12))
            ThreePointArc((6, 12), (4.5, 12.401923789), (3.401923789, 13.5))
        make_face()
    cut_extrude7 = extrude(amount=CUT_EXTRUDE7_DEPTH, mode=Mode.SUBTRACT)

    # Mirror5: Cut-Extrude7 across plane
    add(cut_extrude7.mirror(Plane.XY), mode=Mode.SUBTRACT)

    # Sketch13 → Cut-Extrude8 (cut)
    with BuildSketch(Plane(origin=(0, 0, -12), x_dir=(-1, 0, 0), z_dir=(0, 0, -1))):
        with Locations((0, -9.1)):
            Circle(SKETCH13_R)
        with Locations((6, -9.1)):
            Circle(SKETCH13_R)
        with Locations((-6, -9.1)):
            Circle(SKETCH13_R)
    extrude(amount=-CUT_EXTRUDE8_DEPTH, mode=Mode.SUBTRACT)

    # Sketch14 → Cut-Extrude9 (cut)
    with BuildSketch(Plane(origin=(0, 0, -12), x_dir=(-1, 0, 0), z_dir=(0, 0, -1))):
        with Locations((0, -9.1)):
            Circle(SKETCH14_R)
        with Locations((6, -9.1)):
            Circle(SKETCH14_R)
        with Locations((-6, -9.1)):
            Circle(SKETCH14_R)
    extrude(amount=-CUT_EXTRUDE9_DEPTH, mode=Mode.SUBTRACT)


solid = part.part
